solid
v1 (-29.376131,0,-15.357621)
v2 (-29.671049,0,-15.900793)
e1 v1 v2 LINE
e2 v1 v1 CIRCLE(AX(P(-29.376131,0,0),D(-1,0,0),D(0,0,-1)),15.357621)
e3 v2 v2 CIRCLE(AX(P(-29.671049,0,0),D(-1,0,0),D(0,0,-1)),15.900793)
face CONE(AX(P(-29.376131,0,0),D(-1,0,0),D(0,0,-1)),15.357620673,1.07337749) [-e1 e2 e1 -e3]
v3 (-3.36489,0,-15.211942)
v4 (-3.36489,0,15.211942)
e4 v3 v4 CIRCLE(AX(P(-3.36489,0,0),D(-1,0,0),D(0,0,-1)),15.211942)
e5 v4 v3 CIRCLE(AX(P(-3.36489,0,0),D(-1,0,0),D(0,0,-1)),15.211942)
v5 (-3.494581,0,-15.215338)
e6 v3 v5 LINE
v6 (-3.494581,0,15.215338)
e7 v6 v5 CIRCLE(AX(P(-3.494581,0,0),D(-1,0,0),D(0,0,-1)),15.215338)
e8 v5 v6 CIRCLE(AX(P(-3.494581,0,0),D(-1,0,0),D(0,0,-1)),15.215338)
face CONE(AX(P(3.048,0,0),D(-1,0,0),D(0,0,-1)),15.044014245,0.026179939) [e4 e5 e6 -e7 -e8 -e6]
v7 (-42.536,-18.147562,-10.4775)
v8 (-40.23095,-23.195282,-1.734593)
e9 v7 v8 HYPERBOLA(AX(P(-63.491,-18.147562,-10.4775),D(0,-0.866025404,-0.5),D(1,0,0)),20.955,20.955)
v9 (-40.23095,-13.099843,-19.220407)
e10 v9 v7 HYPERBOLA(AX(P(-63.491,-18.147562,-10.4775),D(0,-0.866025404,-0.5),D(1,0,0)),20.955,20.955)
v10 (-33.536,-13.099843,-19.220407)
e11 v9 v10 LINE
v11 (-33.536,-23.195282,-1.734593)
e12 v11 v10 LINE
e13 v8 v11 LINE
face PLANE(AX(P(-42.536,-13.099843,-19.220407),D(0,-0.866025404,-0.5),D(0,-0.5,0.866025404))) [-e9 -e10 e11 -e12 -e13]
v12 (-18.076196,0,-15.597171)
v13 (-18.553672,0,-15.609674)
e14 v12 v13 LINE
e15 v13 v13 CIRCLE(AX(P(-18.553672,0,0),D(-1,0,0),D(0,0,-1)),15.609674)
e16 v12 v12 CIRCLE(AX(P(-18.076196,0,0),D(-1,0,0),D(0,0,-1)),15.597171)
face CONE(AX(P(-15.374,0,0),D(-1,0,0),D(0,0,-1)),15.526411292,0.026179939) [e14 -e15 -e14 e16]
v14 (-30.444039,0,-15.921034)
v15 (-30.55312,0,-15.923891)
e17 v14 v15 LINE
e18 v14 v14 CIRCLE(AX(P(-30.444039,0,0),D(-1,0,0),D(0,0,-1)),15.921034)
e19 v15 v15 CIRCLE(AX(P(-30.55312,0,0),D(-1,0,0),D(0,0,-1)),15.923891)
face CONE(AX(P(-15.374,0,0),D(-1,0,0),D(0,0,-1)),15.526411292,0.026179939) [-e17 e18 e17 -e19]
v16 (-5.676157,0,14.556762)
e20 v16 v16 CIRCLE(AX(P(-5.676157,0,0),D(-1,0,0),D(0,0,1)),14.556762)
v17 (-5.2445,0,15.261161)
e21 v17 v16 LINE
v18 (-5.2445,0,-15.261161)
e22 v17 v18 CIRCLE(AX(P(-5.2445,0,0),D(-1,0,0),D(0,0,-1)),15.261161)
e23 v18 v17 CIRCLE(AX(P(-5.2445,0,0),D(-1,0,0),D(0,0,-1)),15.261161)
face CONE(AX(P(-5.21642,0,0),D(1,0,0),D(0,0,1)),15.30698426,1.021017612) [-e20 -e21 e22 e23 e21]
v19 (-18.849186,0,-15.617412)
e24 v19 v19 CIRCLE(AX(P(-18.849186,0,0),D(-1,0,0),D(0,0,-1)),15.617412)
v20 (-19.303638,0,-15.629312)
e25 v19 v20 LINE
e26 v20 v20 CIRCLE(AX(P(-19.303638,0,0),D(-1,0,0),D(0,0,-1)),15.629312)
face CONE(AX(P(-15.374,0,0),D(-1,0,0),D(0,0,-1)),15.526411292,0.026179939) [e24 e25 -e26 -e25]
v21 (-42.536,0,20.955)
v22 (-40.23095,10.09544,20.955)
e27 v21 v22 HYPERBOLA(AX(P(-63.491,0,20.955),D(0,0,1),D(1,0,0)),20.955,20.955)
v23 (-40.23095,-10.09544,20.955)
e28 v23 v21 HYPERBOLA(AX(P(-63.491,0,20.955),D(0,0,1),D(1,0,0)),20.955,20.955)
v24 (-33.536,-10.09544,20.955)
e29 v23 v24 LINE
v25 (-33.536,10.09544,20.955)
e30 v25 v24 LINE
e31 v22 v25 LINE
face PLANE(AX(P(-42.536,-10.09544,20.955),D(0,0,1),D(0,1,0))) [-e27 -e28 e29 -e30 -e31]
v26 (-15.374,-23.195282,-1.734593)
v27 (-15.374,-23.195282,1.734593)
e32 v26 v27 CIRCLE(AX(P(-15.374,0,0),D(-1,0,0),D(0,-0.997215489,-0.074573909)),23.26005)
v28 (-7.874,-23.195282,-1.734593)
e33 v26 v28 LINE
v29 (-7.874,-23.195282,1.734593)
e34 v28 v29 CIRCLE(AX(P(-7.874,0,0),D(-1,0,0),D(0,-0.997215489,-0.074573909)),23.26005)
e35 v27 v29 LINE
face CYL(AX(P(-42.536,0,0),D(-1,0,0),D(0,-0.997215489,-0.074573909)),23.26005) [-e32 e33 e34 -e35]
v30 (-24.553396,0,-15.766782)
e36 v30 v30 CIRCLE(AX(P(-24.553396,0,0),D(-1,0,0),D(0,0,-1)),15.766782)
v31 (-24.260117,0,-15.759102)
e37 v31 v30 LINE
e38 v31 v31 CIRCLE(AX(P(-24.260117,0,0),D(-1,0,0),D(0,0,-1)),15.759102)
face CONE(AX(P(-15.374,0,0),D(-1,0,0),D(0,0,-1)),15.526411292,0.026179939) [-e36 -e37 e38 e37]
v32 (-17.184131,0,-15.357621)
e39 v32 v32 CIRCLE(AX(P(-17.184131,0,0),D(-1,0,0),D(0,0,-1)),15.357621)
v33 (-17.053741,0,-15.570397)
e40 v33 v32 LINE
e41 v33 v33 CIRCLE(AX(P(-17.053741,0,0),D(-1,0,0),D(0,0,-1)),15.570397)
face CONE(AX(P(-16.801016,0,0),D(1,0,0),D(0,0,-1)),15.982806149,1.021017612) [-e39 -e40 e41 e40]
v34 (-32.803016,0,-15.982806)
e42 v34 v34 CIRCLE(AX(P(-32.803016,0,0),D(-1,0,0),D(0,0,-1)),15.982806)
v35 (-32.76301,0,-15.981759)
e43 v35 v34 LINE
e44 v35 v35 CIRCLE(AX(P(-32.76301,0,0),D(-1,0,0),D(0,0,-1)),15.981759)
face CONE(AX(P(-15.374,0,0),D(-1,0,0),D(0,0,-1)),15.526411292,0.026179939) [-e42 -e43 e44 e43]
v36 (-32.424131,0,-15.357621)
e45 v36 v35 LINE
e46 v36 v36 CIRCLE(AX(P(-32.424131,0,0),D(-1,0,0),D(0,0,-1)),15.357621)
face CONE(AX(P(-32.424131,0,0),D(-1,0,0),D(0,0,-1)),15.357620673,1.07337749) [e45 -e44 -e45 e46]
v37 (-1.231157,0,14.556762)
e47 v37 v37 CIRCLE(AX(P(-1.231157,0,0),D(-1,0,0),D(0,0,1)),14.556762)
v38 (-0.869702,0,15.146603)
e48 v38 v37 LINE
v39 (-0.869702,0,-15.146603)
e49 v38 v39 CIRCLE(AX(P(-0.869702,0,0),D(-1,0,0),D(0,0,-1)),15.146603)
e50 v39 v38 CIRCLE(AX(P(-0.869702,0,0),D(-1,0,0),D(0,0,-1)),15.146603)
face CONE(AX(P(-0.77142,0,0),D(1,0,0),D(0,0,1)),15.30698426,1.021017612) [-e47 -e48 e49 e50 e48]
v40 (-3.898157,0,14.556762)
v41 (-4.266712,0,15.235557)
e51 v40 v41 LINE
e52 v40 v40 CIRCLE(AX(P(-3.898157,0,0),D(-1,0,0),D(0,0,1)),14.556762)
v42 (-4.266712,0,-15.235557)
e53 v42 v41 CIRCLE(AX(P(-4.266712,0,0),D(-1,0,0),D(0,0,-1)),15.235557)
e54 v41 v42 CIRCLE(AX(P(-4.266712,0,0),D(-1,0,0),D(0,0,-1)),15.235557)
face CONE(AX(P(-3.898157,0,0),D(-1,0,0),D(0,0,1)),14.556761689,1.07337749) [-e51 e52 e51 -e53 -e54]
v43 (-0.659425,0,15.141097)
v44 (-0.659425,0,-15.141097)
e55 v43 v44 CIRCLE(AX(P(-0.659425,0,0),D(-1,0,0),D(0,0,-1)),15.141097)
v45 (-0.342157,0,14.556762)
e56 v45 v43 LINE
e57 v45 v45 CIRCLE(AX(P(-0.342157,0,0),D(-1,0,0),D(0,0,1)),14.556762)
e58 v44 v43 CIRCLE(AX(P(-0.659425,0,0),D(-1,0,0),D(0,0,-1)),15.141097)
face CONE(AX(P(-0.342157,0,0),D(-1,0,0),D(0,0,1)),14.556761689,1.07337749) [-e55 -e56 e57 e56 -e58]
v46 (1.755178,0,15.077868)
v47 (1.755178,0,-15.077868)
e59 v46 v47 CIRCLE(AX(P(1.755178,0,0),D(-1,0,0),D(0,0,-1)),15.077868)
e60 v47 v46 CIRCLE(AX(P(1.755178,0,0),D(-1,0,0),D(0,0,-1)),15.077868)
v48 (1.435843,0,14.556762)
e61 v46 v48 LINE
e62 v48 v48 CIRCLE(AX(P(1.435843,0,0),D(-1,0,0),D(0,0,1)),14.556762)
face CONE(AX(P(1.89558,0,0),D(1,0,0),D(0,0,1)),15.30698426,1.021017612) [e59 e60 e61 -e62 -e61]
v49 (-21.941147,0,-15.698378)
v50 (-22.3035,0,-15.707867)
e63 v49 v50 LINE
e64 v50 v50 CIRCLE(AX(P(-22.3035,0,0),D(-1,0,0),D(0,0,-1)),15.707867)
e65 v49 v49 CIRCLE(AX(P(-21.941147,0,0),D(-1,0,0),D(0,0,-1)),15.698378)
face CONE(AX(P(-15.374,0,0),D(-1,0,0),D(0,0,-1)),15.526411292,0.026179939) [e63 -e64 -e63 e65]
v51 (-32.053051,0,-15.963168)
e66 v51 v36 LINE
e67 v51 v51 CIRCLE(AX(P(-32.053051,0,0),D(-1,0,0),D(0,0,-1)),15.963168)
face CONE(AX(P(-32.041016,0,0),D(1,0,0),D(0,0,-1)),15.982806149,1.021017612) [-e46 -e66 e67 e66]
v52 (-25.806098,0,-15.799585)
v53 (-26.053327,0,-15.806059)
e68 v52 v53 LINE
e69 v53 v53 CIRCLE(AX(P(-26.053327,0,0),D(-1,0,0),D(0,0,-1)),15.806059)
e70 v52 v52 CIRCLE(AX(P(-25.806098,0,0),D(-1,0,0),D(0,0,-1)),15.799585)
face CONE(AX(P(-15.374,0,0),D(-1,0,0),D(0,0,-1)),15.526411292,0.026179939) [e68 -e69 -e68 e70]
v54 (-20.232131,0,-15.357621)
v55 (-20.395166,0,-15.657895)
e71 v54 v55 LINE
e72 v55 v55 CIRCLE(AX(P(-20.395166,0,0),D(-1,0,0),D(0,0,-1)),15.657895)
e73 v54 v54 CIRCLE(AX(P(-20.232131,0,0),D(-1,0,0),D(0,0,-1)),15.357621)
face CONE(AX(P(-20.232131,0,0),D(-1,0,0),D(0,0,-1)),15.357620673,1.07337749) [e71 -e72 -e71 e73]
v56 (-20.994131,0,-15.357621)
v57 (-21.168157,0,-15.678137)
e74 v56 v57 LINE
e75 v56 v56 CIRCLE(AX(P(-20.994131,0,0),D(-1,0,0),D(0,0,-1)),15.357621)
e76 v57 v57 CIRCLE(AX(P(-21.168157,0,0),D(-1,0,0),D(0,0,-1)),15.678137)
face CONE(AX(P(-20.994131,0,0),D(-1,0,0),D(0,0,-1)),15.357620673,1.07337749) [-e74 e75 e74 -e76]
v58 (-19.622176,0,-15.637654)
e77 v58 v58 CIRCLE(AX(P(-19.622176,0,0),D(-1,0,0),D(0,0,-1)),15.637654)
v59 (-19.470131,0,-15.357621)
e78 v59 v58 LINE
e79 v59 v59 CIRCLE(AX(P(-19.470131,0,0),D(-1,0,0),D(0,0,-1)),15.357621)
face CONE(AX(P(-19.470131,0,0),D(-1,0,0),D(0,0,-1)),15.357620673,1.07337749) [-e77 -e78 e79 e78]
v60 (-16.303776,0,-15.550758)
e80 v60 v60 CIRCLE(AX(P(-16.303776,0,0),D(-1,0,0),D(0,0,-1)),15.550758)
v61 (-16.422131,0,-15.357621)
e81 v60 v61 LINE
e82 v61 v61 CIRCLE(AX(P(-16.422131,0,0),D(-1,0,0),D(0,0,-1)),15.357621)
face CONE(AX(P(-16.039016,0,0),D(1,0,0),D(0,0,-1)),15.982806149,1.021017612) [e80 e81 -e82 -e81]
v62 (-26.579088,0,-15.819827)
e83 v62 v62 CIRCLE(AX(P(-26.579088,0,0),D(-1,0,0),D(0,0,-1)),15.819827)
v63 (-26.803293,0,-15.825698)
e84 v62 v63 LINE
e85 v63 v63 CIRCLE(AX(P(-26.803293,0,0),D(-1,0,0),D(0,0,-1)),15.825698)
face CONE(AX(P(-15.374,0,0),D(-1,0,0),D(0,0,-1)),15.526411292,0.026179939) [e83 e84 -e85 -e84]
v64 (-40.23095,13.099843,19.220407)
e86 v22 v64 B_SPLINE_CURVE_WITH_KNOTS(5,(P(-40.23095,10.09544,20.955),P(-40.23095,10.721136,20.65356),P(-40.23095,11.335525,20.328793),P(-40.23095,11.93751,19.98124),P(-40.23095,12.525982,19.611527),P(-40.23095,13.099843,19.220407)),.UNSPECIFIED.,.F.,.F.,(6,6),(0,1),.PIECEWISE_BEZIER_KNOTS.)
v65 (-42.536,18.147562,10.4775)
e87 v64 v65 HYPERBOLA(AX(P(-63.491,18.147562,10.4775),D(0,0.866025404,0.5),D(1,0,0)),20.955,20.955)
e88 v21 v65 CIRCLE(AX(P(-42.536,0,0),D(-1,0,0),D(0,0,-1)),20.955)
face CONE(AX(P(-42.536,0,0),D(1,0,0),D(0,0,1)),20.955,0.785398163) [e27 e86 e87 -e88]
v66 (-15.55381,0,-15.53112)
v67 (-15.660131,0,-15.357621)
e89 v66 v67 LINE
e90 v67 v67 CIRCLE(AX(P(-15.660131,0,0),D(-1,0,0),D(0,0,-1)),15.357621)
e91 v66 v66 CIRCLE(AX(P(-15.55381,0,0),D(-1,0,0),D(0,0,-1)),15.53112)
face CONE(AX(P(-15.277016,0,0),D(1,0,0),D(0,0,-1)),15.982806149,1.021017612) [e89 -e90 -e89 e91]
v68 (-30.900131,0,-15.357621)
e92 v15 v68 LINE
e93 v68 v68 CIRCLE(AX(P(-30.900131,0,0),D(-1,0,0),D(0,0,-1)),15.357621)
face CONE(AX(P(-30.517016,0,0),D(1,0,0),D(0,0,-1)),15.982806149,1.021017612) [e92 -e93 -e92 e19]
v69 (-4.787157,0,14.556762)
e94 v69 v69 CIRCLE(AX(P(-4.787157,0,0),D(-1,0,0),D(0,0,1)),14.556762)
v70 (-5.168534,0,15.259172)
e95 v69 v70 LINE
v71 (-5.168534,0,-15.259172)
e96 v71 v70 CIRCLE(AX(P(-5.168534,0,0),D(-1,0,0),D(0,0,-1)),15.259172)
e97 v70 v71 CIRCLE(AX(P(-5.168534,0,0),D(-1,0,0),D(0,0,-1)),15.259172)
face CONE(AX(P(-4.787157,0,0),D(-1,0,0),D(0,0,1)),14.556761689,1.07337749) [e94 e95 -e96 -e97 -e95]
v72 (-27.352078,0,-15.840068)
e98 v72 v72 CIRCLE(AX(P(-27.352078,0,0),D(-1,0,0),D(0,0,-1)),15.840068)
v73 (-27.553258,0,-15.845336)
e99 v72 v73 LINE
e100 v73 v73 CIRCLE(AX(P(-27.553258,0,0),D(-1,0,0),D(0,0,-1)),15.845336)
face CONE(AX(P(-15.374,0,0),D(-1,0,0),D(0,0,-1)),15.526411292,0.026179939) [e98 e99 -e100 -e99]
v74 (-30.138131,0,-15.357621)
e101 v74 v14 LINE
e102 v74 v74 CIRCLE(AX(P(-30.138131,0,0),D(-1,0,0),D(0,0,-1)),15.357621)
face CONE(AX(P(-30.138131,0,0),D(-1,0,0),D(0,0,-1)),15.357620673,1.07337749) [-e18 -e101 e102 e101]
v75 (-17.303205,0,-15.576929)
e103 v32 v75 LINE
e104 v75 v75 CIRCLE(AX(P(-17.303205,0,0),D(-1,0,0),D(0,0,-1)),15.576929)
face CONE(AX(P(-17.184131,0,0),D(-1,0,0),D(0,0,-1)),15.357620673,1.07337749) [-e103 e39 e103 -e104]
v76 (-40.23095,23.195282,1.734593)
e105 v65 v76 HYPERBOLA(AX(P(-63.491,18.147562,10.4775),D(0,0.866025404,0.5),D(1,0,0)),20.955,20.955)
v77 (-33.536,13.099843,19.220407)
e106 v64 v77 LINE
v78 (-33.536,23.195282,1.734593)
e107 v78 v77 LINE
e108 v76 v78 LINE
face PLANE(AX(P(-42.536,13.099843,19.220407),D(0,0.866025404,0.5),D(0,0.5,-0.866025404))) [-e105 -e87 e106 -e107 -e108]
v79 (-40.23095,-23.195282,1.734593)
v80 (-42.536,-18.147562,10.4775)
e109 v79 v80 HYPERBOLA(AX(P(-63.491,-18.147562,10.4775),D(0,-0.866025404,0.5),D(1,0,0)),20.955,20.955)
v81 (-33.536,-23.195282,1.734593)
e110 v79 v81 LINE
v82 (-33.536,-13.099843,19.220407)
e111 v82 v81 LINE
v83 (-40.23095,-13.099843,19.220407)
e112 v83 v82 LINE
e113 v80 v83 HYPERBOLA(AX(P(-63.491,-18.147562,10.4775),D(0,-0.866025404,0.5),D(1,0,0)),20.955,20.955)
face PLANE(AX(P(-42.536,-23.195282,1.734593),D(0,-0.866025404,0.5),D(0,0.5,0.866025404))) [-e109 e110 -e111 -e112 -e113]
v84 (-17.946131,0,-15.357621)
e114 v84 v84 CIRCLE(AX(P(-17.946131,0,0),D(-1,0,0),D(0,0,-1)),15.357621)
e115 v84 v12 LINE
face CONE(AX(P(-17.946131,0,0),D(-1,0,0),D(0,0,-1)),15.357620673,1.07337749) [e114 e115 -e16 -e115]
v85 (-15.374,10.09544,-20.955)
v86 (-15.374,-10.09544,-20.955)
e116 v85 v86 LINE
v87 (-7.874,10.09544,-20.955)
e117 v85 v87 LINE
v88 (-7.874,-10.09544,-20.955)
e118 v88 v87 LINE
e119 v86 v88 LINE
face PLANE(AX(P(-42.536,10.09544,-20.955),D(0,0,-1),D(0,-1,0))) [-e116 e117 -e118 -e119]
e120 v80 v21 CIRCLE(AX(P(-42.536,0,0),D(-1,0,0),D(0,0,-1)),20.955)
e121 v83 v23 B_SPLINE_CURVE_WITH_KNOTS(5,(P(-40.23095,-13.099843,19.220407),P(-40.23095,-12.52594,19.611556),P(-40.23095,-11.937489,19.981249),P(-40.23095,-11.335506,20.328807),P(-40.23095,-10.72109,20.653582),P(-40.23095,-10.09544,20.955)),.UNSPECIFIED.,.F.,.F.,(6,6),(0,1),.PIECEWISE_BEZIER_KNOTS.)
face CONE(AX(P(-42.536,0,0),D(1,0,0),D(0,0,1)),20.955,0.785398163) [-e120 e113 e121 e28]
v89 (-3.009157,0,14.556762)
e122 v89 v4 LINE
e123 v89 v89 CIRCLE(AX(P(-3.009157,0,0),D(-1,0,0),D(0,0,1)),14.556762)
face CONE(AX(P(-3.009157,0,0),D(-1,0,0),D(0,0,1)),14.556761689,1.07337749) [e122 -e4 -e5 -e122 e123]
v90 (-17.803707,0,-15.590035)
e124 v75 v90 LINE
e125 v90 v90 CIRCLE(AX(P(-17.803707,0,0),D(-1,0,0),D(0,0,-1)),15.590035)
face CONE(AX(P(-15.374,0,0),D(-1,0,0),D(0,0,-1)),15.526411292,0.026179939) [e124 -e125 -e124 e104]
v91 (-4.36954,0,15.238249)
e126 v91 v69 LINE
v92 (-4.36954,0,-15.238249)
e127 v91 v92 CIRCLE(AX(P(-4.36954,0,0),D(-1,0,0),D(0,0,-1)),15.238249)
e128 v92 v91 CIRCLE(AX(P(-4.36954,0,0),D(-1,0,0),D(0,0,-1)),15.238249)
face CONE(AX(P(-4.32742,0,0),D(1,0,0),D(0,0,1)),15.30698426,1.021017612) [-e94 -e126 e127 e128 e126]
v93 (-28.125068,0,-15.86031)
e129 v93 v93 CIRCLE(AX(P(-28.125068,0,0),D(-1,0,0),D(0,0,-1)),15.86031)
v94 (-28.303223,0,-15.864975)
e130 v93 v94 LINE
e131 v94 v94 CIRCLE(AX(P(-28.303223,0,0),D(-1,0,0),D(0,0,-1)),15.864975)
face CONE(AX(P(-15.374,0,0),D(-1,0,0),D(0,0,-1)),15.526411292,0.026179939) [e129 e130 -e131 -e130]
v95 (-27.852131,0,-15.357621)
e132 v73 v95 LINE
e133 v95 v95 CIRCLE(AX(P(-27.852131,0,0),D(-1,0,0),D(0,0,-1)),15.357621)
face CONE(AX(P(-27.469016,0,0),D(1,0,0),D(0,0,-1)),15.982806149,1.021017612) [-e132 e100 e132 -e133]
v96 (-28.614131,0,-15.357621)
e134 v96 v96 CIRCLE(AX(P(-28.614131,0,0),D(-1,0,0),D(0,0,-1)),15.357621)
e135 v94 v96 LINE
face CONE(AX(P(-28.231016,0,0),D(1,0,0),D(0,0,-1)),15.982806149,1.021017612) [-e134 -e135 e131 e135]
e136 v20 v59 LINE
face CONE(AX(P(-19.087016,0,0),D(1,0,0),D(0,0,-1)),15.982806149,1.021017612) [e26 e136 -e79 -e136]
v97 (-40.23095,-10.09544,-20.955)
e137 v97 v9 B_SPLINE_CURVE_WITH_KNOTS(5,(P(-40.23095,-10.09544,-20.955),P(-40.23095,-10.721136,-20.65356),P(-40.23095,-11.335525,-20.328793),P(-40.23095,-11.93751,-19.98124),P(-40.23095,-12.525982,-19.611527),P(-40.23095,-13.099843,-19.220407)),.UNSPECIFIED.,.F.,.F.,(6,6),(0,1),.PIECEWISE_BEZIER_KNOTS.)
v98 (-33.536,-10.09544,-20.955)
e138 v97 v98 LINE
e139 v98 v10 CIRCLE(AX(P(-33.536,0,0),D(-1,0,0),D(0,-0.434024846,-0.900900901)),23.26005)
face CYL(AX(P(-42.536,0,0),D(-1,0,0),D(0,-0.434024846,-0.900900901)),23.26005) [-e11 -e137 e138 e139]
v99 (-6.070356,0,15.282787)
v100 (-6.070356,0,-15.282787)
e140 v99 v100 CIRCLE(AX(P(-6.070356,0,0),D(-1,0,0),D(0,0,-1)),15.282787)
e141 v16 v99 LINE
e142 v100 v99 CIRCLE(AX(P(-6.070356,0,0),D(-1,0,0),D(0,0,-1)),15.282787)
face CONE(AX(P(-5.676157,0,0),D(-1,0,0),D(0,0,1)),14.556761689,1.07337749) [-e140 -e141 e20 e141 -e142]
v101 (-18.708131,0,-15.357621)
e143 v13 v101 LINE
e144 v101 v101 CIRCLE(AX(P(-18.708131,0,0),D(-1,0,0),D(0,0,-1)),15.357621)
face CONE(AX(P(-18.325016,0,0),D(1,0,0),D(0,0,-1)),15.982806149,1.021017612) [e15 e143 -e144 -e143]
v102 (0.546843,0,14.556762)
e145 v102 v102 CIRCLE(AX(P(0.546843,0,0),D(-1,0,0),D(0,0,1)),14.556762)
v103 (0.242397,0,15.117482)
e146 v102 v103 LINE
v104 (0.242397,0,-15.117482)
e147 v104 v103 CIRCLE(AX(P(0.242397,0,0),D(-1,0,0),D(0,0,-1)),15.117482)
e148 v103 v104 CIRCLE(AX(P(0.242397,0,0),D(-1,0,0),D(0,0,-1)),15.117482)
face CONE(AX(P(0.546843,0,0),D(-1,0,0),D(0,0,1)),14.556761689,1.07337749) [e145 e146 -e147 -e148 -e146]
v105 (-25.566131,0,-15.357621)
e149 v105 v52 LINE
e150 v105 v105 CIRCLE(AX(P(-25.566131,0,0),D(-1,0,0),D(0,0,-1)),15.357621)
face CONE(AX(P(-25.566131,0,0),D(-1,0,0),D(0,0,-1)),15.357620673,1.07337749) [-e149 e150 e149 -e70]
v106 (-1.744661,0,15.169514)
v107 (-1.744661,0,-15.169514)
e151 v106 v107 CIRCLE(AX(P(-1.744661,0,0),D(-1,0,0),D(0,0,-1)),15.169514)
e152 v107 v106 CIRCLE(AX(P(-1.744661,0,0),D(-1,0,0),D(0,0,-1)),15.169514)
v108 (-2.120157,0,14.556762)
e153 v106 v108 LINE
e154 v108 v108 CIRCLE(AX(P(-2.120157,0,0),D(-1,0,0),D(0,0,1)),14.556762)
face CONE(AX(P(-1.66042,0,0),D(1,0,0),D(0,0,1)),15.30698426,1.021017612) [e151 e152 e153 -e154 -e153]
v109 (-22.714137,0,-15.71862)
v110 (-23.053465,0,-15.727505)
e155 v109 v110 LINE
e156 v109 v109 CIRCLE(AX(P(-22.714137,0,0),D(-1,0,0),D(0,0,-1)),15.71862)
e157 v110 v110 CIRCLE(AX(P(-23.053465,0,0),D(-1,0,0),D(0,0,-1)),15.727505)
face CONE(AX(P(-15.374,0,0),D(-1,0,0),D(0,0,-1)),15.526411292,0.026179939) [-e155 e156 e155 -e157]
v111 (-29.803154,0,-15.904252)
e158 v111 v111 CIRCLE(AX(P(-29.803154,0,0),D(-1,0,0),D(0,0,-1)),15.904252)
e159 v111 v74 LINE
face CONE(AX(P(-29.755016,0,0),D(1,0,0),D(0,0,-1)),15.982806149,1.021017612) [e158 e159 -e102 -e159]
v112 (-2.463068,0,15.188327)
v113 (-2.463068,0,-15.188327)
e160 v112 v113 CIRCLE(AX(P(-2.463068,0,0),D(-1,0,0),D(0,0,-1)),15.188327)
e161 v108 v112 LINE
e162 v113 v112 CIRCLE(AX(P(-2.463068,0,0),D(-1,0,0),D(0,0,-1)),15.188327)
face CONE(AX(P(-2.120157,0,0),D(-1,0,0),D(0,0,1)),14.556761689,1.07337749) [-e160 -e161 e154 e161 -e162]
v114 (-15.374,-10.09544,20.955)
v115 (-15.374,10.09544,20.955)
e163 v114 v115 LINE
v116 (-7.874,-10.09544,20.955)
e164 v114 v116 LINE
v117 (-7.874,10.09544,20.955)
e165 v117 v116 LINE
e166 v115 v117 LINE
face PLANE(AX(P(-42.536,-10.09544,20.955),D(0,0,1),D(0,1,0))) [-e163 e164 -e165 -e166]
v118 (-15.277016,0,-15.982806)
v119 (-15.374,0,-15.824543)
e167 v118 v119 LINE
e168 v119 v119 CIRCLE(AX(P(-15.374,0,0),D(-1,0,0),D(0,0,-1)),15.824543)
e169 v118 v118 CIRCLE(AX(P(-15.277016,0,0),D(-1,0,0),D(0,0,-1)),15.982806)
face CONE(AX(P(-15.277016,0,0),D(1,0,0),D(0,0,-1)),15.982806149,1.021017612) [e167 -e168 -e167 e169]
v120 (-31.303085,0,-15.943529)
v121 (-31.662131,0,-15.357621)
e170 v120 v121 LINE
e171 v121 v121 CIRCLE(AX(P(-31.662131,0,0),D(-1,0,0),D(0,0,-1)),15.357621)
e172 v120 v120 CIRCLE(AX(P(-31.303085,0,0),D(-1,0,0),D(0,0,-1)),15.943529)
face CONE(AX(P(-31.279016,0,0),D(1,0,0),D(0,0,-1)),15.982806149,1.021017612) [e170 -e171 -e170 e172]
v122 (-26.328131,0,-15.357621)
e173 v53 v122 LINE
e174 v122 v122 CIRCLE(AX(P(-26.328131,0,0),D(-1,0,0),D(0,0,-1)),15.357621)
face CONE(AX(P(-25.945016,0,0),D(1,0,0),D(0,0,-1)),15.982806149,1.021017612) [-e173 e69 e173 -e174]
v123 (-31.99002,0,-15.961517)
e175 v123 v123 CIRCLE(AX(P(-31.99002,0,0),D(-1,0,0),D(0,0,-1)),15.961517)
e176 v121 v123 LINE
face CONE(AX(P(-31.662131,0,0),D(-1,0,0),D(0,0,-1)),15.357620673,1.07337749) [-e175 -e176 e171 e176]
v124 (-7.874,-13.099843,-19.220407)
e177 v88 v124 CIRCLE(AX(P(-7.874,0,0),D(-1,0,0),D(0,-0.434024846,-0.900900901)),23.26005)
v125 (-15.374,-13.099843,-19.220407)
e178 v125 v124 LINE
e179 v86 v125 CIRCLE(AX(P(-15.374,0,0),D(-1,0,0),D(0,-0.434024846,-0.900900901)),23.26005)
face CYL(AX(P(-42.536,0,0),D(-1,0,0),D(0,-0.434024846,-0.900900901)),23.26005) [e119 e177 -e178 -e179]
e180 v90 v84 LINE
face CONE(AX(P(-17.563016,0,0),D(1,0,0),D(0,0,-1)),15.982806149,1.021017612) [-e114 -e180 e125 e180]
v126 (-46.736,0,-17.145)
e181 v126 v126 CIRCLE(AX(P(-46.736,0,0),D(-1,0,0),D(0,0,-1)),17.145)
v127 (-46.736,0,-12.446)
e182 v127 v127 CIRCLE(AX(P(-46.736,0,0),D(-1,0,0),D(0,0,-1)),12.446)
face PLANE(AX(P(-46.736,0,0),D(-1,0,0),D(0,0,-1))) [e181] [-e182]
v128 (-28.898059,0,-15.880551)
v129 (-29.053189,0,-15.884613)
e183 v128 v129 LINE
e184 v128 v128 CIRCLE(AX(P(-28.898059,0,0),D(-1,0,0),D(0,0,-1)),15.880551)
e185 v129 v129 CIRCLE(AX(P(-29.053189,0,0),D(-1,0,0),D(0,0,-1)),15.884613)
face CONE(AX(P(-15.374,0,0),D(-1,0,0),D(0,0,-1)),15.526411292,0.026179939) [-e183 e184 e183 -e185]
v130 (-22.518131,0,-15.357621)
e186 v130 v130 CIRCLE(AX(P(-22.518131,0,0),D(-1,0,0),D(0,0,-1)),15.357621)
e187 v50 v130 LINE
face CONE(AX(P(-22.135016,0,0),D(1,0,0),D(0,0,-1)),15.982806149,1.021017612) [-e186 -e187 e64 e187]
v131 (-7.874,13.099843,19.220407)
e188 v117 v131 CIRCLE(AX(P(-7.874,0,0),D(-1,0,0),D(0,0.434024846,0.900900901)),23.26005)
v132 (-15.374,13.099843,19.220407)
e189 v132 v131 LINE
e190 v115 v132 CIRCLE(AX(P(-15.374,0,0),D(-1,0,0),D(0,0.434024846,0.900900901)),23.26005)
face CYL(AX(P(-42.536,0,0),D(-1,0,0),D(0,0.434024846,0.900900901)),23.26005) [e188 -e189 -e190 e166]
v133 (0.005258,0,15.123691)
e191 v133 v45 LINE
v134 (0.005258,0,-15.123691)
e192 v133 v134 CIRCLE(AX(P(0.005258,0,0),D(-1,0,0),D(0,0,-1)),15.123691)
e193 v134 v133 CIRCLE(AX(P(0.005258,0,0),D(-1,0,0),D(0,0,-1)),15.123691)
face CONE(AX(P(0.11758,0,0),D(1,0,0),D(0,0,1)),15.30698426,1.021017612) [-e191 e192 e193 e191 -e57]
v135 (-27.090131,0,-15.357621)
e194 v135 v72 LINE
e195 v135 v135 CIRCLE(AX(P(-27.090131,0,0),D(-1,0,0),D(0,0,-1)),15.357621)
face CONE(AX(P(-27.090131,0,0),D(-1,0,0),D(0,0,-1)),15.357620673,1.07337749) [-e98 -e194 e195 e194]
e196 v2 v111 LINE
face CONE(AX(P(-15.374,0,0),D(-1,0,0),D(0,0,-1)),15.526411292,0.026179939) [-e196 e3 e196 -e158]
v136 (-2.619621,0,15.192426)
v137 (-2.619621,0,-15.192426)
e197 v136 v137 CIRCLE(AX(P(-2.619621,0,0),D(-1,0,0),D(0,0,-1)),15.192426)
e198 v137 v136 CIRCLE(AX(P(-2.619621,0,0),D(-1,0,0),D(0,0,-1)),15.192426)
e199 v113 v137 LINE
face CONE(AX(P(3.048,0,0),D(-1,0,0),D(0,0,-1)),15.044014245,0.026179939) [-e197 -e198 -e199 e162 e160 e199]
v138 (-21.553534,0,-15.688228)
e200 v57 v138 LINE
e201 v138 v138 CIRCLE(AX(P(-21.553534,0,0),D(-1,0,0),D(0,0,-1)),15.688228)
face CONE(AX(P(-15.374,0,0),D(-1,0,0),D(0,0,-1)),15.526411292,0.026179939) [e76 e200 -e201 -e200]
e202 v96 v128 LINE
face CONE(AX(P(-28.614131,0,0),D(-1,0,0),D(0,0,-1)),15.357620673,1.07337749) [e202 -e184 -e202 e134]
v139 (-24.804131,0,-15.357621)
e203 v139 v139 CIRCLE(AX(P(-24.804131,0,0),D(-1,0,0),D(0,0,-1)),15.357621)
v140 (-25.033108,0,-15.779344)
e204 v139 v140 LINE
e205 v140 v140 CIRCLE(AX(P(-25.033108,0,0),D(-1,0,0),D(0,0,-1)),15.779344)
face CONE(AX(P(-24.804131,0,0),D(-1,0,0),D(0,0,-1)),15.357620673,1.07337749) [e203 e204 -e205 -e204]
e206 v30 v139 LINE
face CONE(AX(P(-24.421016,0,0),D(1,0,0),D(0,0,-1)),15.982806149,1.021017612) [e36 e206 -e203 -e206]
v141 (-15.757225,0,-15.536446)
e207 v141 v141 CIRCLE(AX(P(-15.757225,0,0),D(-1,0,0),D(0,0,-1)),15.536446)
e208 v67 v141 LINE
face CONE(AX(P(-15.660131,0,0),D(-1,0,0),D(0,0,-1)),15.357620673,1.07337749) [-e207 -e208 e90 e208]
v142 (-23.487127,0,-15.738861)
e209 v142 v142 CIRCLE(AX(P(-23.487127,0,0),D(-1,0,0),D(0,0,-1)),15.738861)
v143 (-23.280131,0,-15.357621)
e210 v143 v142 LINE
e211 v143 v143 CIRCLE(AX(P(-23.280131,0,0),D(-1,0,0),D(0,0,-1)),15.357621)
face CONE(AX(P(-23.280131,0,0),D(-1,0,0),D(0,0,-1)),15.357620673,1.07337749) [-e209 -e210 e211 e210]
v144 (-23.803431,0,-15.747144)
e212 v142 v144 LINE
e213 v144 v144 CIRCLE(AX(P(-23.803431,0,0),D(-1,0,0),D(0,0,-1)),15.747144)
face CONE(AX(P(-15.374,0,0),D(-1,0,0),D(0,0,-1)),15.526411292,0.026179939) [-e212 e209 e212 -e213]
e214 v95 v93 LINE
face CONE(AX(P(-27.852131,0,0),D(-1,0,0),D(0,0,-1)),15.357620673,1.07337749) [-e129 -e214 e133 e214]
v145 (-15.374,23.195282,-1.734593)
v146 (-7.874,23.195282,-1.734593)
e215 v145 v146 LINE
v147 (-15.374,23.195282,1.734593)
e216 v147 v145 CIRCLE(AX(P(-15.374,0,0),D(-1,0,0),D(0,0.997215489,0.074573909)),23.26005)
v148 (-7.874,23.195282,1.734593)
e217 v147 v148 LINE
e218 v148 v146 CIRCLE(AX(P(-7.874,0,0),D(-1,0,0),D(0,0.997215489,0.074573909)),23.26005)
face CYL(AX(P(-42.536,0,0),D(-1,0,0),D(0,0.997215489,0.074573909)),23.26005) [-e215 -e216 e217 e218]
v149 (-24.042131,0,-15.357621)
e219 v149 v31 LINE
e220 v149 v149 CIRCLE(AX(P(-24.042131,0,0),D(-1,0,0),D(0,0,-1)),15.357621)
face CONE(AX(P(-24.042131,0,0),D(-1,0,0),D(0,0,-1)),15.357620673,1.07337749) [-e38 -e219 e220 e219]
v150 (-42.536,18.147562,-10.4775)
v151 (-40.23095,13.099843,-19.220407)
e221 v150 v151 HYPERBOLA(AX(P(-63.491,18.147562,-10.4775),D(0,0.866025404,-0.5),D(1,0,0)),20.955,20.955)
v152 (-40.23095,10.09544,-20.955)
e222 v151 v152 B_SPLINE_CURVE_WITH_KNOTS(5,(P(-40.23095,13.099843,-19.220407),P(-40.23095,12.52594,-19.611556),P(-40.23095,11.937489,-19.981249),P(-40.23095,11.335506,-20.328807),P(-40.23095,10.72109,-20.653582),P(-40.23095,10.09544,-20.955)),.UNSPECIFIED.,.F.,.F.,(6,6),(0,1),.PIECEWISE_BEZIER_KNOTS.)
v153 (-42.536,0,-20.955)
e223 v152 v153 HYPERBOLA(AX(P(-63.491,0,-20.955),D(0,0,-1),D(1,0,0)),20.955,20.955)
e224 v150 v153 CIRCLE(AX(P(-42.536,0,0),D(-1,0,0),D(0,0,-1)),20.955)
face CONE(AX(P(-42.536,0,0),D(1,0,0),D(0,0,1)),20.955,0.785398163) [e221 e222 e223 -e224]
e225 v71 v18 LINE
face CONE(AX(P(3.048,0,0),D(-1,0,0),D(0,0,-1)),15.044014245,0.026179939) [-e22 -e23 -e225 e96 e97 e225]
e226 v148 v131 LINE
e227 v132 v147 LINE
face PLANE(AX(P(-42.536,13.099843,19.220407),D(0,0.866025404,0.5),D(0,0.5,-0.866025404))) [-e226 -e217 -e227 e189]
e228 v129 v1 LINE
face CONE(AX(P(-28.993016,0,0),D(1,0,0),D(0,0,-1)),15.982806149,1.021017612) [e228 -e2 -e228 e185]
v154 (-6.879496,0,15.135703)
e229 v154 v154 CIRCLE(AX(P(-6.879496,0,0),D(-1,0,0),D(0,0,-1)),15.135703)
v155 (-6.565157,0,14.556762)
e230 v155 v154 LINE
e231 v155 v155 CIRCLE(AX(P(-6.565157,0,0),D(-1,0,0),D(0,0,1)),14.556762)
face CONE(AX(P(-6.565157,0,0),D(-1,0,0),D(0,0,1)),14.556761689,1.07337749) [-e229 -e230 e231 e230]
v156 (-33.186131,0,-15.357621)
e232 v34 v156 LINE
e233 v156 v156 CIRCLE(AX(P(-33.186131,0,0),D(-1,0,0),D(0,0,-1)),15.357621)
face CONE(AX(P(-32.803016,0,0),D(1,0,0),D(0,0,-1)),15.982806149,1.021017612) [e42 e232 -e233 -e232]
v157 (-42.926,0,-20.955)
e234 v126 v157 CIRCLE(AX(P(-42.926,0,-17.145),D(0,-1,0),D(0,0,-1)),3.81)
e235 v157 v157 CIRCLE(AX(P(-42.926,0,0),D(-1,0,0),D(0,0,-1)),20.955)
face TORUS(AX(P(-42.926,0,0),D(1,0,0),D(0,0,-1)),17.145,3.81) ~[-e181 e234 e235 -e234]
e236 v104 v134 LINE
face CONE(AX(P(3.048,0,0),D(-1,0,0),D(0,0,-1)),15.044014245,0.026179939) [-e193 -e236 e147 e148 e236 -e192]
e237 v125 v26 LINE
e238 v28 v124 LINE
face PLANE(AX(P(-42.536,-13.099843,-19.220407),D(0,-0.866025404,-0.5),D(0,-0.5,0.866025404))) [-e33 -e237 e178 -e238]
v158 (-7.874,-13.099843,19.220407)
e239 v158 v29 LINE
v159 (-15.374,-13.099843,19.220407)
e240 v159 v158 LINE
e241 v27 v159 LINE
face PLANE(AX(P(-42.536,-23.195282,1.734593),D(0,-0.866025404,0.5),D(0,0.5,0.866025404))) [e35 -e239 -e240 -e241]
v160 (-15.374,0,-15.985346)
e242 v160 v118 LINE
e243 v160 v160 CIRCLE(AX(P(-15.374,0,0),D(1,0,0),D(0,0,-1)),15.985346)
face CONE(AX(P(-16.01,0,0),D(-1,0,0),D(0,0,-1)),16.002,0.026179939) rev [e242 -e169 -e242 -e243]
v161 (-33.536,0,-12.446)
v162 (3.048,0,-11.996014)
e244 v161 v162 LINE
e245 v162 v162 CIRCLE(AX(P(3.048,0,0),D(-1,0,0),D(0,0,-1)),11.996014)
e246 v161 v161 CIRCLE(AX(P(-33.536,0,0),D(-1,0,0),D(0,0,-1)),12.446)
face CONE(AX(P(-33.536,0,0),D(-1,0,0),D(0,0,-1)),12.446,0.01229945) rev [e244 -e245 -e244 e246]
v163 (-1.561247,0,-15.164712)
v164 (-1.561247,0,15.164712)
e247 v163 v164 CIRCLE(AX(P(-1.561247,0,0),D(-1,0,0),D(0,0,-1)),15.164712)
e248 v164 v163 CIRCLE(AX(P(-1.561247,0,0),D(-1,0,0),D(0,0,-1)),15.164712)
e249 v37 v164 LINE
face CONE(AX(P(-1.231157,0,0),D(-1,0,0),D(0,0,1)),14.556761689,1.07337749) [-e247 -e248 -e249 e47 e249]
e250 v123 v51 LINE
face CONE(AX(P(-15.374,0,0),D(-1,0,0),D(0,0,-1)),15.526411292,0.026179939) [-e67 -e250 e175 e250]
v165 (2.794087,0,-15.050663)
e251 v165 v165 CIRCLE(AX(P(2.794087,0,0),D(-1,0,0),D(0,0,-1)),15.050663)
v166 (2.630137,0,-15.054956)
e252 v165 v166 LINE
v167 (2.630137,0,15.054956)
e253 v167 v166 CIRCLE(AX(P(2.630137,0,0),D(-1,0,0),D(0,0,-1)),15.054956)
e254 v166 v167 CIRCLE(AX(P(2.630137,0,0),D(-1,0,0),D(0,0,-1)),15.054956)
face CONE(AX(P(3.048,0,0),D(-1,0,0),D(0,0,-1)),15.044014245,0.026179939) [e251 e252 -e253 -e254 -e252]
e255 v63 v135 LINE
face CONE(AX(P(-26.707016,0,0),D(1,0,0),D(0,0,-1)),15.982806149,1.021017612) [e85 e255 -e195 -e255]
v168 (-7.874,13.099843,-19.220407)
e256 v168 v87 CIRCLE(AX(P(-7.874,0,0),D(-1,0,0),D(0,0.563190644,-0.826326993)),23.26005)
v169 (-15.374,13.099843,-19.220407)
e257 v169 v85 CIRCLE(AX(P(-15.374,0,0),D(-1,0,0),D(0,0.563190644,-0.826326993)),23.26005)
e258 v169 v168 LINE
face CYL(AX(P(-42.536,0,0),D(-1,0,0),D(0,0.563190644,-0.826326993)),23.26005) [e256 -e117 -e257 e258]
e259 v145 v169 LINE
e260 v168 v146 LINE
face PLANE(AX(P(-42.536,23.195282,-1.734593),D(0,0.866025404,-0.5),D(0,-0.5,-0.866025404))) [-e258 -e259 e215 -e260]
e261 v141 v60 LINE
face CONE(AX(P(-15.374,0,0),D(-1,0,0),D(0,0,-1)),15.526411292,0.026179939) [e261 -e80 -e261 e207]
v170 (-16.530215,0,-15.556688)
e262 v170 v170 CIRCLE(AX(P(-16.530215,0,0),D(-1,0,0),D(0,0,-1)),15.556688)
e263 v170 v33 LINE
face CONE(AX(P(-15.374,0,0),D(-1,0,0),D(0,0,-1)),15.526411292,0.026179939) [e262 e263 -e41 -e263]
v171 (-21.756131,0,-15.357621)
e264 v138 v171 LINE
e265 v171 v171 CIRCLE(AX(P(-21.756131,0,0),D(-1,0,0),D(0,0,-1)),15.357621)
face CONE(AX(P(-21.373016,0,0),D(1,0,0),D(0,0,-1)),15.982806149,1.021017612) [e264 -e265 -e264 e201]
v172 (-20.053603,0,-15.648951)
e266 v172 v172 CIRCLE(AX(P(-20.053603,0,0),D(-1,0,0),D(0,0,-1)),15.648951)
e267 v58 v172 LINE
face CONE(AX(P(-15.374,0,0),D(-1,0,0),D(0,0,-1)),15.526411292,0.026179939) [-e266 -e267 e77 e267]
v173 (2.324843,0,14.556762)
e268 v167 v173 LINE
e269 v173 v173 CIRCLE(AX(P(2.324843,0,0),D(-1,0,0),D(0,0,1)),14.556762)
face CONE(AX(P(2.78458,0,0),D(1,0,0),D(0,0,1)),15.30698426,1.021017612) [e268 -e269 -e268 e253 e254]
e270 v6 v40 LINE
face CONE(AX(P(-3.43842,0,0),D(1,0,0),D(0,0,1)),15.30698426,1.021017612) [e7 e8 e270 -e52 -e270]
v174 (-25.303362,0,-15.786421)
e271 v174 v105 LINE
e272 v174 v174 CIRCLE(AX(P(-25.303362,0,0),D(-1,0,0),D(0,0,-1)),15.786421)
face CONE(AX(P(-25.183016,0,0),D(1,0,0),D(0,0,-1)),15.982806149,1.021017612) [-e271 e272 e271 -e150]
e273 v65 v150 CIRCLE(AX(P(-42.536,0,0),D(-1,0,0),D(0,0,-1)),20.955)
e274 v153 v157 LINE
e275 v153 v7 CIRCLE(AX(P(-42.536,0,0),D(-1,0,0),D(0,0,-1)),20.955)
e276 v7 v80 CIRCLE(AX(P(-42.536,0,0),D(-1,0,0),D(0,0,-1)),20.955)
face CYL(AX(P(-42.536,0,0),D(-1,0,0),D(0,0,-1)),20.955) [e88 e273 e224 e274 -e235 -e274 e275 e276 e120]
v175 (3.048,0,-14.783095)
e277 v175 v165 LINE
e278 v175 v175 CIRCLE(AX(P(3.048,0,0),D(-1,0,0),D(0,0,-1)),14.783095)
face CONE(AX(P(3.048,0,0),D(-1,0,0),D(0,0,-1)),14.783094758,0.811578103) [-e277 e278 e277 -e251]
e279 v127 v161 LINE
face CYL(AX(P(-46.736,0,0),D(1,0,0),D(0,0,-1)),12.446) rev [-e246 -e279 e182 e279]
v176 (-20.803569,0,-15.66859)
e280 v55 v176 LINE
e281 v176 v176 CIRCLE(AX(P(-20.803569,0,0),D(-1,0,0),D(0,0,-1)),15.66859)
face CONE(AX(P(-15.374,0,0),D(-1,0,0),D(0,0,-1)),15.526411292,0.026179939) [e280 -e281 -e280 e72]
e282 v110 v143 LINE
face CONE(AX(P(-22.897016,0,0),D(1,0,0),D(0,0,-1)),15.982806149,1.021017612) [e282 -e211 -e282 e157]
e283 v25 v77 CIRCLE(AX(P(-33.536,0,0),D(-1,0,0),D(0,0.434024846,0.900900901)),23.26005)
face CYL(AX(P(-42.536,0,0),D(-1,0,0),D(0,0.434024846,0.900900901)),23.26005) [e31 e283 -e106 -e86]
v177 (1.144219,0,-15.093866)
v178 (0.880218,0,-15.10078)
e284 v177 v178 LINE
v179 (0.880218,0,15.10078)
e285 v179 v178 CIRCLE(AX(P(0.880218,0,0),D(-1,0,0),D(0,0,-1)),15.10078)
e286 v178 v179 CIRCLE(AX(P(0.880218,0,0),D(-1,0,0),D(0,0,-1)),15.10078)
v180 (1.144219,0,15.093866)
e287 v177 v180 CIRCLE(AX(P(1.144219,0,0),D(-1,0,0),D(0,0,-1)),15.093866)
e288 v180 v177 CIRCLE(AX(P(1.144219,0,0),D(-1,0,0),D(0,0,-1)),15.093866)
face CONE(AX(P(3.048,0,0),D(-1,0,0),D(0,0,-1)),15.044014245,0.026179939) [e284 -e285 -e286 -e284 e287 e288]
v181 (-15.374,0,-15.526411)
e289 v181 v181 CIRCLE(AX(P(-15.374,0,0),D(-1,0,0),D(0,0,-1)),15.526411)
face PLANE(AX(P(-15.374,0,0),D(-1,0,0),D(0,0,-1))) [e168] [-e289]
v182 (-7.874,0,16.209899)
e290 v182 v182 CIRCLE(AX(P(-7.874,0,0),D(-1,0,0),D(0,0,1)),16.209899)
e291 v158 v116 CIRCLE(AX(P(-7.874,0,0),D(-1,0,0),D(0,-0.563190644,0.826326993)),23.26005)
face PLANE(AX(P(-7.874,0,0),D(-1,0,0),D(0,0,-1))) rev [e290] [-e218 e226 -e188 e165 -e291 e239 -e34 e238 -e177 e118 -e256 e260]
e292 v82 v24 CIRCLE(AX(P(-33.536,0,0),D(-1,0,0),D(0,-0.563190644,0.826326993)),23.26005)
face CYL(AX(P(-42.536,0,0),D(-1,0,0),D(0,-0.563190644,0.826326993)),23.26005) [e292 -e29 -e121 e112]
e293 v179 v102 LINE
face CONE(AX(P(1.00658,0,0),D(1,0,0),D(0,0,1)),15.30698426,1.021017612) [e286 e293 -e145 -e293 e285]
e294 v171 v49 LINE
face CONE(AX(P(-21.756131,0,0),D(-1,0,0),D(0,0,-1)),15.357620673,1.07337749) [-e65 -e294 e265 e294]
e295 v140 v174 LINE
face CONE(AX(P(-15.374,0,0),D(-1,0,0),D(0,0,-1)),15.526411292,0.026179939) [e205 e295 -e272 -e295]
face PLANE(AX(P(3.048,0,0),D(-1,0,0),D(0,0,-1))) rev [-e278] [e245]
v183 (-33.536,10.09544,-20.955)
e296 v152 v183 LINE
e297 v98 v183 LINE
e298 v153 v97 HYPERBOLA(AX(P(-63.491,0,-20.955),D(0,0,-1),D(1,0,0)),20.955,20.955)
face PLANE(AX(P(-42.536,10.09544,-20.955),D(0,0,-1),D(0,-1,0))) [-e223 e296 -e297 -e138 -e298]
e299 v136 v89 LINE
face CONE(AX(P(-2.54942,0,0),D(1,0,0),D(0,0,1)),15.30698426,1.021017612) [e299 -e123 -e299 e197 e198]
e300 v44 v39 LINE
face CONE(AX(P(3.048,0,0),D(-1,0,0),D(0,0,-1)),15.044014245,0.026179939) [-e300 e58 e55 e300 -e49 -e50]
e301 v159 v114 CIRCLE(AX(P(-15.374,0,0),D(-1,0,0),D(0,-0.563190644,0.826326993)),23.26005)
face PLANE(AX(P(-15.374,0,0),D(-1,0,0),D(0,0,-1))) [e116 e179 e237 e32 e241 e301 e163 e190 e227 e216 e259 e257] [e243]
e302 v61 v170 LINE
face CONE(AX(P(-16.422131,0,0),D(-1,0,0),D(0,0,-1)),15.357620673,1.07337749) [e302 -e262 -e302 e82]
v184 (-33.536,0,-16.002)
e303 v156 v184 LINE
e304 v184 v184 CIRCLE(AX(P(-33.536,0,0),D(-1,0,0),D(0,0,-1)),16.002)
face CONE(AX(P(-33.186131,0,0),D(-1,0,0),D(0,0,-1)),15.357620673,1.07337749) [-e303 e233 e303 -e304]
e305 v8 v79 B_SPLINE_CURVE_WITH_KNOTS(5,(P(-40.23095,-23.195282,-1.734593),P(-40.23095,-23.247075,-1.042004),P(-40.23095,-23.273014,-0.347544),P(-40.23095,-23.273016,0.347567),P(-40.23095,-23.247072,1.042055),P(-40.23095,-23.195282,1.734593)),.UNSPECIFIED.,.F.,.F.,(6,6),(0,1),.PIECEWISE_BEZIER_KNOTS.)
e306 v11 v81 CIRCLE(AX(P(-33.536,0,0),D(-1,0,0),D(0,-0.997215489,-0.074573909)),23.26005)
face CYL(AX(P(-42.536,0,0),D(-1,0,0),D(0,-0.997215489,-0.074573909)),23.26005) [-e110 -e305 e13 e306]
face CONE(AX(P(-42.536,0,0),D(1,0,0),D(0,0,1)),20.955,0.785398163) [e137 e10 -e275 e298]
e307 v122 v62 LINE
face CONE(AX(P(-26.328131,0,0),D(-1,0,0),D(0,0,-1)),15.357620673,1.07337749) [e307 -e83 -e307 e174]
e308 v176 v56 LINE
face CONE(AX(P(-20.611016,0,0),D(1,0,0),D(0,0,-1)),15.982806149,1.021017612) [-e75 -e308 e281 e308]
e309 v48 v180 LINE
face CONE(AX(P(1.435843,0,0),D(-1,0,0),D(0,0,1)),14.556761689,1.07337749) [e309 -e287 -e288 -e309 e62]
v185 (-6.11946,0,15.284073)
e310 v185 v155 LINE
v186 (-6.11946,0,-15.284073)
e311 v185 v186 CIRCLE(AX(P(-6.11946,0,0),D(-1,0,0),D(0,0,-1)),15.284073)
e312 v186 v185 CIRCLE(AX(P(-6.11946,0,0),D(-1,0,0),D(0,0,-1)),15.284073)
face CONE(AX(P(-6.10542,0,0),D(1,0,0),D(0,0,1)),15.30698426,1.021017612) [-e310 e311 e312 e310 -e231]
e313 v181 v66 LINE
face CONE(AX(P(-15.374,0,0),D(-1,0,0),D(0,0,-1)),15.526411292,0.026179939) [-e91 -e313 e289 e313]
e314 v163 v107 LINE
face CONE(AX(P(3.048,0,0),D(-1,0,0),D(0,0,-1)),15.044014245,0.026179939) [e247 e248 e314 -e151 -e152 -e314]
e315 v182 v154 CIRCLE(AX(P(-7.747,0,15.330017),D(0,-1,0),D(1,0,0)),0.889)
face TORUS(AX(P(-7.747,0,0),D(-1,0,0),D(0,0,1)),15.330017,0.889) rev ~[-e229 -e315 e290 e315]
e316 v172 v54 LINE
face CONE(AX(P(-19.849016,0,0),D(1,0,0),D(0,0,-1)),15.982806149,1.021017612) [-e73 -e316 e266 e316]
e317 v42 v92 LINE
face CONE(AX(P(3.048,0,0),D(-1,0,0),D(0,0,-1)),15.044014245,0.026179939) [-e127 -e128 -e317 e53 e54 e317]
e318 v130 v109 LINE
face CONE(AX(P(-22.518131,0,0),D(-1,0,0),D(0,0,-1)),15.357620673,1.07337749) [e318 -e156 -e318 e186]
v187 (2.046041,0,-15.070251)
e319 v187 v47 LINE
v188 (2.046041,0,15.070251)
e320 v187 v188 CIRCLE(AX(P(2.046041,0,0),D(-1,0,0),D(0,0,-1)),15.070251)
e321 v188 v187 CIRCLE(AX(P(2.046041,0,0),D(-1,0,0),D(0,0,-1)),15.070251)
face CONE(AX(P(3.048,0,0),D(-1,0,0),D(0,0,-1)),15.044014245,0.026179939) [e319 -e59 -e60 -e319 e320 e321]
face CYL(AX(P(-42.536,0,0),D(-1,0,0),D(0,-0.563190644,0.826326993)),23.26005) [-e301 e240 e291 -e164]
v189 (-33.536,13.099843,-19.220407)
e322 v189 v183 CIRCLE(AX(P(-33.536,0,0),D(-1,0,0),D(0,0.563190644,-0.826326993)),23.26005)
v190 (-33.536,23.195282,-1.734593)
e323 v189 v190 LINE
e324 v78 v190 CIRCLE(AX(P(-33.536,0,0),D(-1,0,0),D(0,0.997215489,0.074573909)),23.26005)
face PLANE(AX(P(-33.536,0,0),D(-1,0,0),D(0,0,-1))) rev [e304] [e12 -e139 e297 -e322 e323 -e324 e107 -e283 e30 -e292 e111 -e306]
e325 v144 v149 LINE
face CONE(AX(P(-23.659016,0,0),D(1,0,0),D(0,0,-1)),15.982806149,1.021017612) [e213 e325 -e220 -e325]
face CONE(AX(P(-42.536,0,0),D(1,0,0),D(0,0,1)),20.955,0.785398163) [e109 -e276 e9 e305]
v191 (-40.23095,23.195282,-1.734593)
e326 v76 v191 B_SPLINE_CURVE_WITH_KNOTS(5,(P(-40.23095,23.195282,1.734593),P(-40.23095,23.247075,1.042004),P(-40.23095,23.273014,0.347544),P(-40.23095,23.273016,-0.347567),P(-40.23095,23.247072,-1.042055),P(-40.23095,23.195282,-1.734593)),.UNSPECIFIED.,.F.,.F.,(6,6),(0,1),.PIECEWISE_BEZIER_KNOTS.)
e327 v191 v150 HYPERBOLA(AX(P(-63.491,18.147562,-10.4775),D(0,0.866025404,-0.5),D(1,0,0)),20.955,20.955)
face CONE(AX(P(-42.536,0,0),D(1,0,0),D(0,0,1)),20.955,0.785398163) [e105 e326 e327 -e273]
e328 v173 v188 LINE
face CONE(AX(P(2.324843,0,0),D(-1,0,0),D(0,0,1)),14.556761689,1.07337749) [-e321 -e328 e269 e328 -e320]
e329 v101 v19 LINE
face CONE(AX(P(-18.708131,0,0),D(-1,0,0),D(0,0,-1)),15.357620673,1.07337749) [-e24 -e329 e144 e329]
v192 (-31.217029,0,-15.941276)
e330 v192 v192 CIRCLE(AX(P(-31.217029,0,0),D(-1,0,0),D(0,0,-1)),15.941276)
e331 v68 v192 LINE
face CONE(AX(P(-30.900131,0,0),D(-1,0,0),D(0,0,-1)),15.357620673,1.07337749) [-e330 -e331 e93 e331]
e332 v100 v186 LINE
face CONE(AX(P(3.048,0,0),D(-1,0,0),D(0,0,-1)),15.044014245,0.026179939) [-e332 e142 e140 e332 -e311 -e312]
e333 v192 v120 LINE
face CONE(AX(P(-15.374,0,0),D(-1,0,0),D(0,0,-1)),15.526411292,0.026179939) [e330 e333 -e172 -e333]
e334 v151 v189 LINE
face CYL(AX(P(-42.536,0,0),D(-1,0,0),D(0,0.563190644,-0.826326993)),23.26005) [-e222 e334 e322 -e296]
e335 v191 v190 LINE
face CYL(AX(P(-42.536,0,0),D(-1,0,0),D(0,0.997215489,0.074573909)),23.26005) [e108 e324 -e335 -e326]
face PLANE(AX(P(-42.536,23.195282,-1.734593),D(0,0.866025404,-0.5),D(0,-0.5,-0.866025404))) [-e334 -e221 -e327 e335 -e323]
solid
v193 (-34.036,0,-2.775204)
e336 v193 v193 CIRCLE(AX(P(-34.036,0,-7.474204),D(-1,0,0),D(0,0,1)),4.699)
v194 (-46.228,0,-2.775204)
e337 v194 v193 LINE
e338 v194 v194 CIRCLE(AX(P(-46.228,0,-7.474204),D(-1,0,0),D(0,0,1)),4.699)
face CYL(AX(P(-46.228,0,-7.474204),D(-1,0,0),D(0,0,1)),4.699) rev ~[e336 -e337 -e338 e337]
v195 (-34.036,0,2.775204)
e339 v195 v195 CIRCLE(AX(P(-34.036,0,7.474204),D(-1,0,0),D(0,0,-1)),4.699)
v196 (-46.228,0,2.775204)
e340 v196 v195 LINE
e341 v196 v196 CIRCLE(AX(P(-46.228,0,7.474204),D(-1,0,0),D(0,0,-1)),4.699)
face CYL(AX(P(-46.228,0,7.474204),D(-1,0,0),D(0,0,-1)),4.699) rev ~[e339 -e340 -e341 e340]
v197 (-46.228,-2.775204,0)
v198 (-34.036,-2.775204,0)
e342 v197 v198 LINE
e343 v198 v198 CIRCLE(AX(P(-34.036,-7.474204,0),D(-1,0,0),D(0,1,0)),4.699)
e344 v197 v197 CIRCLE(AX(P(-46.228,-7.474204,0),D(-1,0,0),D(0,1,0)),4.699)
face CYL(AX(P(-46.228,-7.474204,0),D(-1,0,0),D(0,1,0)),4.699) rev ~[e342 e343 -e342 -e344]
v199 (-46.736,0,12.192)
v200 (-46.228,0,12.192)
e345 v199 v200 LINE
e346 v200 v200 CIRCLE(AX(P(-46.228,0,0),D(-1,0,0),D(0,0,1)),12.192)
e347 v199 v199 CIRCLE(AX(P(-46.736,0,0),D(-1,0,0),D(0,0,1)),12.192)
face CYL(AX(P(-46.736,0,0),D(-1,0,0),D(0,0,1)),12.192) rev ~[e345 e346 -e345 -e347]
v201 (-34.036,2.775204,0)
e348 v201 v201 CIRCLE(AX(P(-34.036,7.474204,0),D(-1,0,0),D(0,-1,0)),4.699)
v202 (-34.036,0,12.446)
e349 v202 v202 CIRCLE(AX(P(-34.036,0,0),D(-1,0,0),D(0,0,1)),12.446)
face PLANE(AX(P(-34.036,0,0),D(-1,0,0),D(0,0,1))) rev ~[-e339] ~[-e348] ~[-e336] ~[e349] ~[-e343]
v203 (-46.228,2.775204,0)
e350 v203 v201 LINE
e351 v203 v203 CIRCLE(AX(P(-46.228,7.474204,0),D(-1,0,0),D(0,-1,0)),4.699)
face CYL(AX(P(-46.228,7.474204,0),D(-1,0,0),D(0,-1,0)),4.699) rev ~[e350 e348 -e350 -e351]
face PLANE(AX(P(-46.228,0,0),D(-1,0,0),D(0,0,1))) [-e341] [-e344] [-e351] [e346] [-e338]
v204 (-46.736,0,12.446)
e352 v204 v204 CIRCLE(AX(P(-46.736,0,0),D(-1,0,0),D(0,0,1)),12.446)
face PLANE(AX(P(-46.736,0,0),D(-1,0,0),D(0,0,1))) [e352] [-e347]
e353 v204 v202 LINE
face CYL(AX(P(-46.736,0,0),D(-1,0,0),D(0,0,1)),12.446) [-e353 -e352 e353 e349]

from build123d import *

# Parameters (mm, degrees)
SKETCH12_OUTSIDE_W = 111.534
SKETCH12_OUTSIDE_H = 111.534
CUT_EXTRUDE2_DEPTH = 46.584
FILLET4_R          = 3.81
SKETCH19_OUTSIDE_W = 67.904
SKETCH19_OUTSIDE_H = 72.514
SKETCH19_OUTSIDE_R = 20.955
CUT_EXTRUDE3_DEPTH = 3.99796
CUT_EXTRUDE3_DRAFT = -45
CHAMFER1_SIZE      = 0.260919487
CHAMFER1_SIZE2     = 0.254
SKETCH21_R         = 12.446
PLUG_DEPTH         = 12.7
SKETCH22_R         = 12.192
CUT_EXTRUDE4_DEPTH = 0.508
SKETCH27_R         = 4.699
PLUGHOLES_DEPTH    = 50.276
CIRPATTERN1_COUNT  = 4
LPATTERN1_COUNT    = 24
LPATTERN1_PITCH    = 0.762
LPATTERN2_COUNT    = 12
LPATTERN2_PITCH    = 0.889
SKETCH32_R         = 0.889


with BuildPart() as part:
    # Sketch10 → Revolve2 (revolve)
    with BuildSketch(Plane.XY, mode=Mode.PRIVATE) as revolve2_sk:
        Polygon((-46.736, 12.446), (-33.536, 12.446), (3.048, 11.996014245), (3.048, 15.044014245), (-7.874, 15.330016881), (-7.874, 41.91), (-15.374, 41.91), (-15.374, 15.526411292), (-33.536, 16.002), (-33.536, 41.91), (-42.536, 41.91), (-42.536, 20.955), (-46.736, 20.955), align=None)
    revolve(revolve2_sk.sketch.rotate(Axis((0, 0, 0), (-1, 0, 0)), 90), axis=Axis((0, 0, 0), (-1, 0, 0)))  # turned: the seam where the file's is

    # Sketch12 outside → Cut-Extrude2 (cut, through all)
    with BuildSketch(Plane.ZY.offset(42.536)):
        Rectangle(SKETCH12_OUTSIDE_W, SKETCH12_OUTSIDE_H)
        with BuildLine():
            Line((-1.734592832, 23.195282143), (-19.220407168, 13.099842529))
            ThreePointArc((-19.220407168, 13.099842529), (-20.143794193, 11.630025), (-20.955, 10.095439614))
            Line((-20.955, 10.095439614), (-20.955, -10.095439614))
            ThreePointArc((-20.955, -10.095439614), (-20.143794193, -11.630025), (-19.220407168, -13.099842529))
            Line((-19.220407168, -13.099842529), (-1.734592832, -23.195282143))
            ThreePointArc((-1.734592832, -23.195282143), (0, -23.26005), (1.734592832, -23.195282143))
            Line((1.734592832, -23.195282143), (19.220407168, -13.099842529))
            ThreePointArc((19.220407168, -13.099842529), (20.143794193, -11.630025), (20.955, -10.095439614))
            Line((20.955, -10.095439614), (20.955, 10.095439614))
            ThreePointArc((20.955, 10.095439614), (20.143794193, 11.630025), (19.220407168, 13.099842529))
            Line((19.220407168, 13.099842529), (1.734592832, 23.195282143))
            ThreePointArc((1.734592832, 23.195282143), (0, 23.26005), (-1.734592832, 23.195282143))
        make_face(mode=Mode.SUBTRACT)
    extrude(amount=-CUT_EXTRUDE2_DEPTH, mode=Mode.SUBTRACT)

    # Fillet4
    fillet4_edges = [part.edges().sort_by_distance(p)[0] for p in [
        (-46.736, 0, 20.955),
    ]]
    fillet(fillet4_edges, radius=FILLET4_R)


with BuildPart() as cut_extrude3_tool:
    # Sketch19 outside → Cut-Extrude3 (with draft: the straight prism first)
    with BuildSketch(Plane.ZY.offset(42.536)):
        Rectangle(SKETCH19_OUTSIDE_W, SKETCH19_OUTSIDE_H)
        Circle(SKETCH19_OUTSIDE_R, mode=Mode.SUBTRACT)
    extrude(amount=-CUT_EXTRUDE3_DEPTH)
    # Cut-Extrude3: the draft: its side faces are tilted about the plane it starts from
    cut_extrude3_sides = [cut_extrude3_tool.faces().sort_by_distance(p)[0] for p in [
        (-40.53702, -36.257, 0),
        (-40.53702, 0, 33.952),
        (-40.53702, 36.257, 0),
        (-40.53702, 0, -33.952),
        (-40.53702, 0, -20.955),
    ]]
    draft(cut_extrude3_sides, Plane.ZY.offset(42.536), CUT_EXTRUDE3_DRAFT)


with BuildPart() as part_1:
    add(part.part)

    # Cut-Extrude3: cut by cut_extrude3_tool
    add(cut_extrude3_tool.part, mode=Mode.SUBTRACT)

    # Chamfer1
    chamfer1_edges = [part_1.edges().sort_by_distance(p)[0] for p in [
        (3.048, 0, 15.044014245),
    ]]
    chamfer1_side = [part_1.faces().sort_by_distance(p)[0] for p in [
        (3.048, 0, 12.421523225),
    ]]
    chamfer(chamfer1_edges, length=CHAMFER1_SIZE, length2=CHAMFER1_SIZE2, reference=chamfer1_side[0])

    # Sketch29 → Cut-Revolve1 (revolve, cut)
    with BuildSketch(Plane.XY, mode=Mode.PRIVATE) as cut_revolve1_sk:
        Polygon((-33.536, 16.002), (-32.803016419, 15.982806149), (-33.186130572, 15.357620673), align=None)
    cut_revolve1 = revolve(cut_revolve1_sk.sketch.rotate(Axis((0, 0, 0), (-1, 0, 0)), 90), axis=Axis((0, 0, 0), (-1, 0, 0)), mode=Mode.SUBTRACT)  # turned: the seam where the file's is

    # LPattern1: Cut-Revolve1 ×24
    with Locations(*[(i * LPATTERN1_PITCH, 0, 0) for i in range(1, LPATTERN1_COUNT)]):
        add(cut_revolve1, mode=Mode.SUBTRACT)

    # Sketch30 → Cut-Revolve2 (revolve, cut)
    with BuildSketch(Plane.XY, mode=Mode.PRIVATE) as cut_revolve2_sk:
        Polygon((-7.874, 15.330016881), (-6.994419703, 15.30698426), (-7.454156686, 14.556761689), align=None)
    cut_revolve2 = revolve(cut_revolve2_sk.sketch.rotate(Axis((0, 0, 0), (-1, 0, 0)), 270), axis=Axis((0, 0, 0), (-1, 0, 0)), mode=Mode.SUBTRACT)  # turned: the seam where the file's is

    # LPattern2: Cut-Revolve2 ×12
    with Locations(*[(i * LPATTERN2_PITCH, 0, 0) for i in range(1, LPATTERN2_COUNT)]):
        add(cut_revolve2, mode=Mode.SUBTRACT)

    # Sketch32 → Cut-Revolve3 (revolve, cut)
    with BuildSketch(Plane.XY, mode=Mode.PRIVATE) as cut_revolve3_sk:
        with Locations((-7.747, 15.330016881)):
            Circle(SKETCH32_R)
    revolve(cut_revolve3_sk.sketch.rotate(Axis((0, 0, 0), (-1, 0, 0)), 270), axis=Axis((0, 0, 0), (-1, 0, 0)), mode=Mode.SUBTRACT)  # turned: the seam where the file's is


with BuildPart() as body_2:
    # Sketch21 → plug (new body)
    with BuildSketch(Plane.ZY.offset(46.736)):
        Circle(SKETCH21_R)
    extrude(amount=-PLUG_DEPTH)

    # Sketch22 → Cut-Extrude4 (cut)
    with BuildSketch(Plane.ZY.offset(46.736)):
        Circle(SKETCH22_R)
    extrude(amount=-CUT_EXTRUDE4_DEPTH, mode=Mode.SUBTRACT)

    # Sketch27 → plugholes (cut, through all)
    with BuildSketch(Plane.ZY.offset(46.228)):
        with Locations((-7.474204, 0)):
            Circle(SKETCH27_R)
    plugholes = extrude(amount=-PLUGHOLES_DEPTH, mode=Mode.SUBTRACT)

    # CirPattern1: plugholes ×4 about axis
    cirpattern1_axis = Axis((0, 0, 0), (1, 0, 0))
    for i in range(1, CIRPATTERN1_COUNT):
        add(plugholes.rotate(cirpattern1_axis, i * 360 / CIRPATTERN1_COUNT), mode=Mode.SUBTRACT)


solid = Compound([part_1.part, body_2.part])
